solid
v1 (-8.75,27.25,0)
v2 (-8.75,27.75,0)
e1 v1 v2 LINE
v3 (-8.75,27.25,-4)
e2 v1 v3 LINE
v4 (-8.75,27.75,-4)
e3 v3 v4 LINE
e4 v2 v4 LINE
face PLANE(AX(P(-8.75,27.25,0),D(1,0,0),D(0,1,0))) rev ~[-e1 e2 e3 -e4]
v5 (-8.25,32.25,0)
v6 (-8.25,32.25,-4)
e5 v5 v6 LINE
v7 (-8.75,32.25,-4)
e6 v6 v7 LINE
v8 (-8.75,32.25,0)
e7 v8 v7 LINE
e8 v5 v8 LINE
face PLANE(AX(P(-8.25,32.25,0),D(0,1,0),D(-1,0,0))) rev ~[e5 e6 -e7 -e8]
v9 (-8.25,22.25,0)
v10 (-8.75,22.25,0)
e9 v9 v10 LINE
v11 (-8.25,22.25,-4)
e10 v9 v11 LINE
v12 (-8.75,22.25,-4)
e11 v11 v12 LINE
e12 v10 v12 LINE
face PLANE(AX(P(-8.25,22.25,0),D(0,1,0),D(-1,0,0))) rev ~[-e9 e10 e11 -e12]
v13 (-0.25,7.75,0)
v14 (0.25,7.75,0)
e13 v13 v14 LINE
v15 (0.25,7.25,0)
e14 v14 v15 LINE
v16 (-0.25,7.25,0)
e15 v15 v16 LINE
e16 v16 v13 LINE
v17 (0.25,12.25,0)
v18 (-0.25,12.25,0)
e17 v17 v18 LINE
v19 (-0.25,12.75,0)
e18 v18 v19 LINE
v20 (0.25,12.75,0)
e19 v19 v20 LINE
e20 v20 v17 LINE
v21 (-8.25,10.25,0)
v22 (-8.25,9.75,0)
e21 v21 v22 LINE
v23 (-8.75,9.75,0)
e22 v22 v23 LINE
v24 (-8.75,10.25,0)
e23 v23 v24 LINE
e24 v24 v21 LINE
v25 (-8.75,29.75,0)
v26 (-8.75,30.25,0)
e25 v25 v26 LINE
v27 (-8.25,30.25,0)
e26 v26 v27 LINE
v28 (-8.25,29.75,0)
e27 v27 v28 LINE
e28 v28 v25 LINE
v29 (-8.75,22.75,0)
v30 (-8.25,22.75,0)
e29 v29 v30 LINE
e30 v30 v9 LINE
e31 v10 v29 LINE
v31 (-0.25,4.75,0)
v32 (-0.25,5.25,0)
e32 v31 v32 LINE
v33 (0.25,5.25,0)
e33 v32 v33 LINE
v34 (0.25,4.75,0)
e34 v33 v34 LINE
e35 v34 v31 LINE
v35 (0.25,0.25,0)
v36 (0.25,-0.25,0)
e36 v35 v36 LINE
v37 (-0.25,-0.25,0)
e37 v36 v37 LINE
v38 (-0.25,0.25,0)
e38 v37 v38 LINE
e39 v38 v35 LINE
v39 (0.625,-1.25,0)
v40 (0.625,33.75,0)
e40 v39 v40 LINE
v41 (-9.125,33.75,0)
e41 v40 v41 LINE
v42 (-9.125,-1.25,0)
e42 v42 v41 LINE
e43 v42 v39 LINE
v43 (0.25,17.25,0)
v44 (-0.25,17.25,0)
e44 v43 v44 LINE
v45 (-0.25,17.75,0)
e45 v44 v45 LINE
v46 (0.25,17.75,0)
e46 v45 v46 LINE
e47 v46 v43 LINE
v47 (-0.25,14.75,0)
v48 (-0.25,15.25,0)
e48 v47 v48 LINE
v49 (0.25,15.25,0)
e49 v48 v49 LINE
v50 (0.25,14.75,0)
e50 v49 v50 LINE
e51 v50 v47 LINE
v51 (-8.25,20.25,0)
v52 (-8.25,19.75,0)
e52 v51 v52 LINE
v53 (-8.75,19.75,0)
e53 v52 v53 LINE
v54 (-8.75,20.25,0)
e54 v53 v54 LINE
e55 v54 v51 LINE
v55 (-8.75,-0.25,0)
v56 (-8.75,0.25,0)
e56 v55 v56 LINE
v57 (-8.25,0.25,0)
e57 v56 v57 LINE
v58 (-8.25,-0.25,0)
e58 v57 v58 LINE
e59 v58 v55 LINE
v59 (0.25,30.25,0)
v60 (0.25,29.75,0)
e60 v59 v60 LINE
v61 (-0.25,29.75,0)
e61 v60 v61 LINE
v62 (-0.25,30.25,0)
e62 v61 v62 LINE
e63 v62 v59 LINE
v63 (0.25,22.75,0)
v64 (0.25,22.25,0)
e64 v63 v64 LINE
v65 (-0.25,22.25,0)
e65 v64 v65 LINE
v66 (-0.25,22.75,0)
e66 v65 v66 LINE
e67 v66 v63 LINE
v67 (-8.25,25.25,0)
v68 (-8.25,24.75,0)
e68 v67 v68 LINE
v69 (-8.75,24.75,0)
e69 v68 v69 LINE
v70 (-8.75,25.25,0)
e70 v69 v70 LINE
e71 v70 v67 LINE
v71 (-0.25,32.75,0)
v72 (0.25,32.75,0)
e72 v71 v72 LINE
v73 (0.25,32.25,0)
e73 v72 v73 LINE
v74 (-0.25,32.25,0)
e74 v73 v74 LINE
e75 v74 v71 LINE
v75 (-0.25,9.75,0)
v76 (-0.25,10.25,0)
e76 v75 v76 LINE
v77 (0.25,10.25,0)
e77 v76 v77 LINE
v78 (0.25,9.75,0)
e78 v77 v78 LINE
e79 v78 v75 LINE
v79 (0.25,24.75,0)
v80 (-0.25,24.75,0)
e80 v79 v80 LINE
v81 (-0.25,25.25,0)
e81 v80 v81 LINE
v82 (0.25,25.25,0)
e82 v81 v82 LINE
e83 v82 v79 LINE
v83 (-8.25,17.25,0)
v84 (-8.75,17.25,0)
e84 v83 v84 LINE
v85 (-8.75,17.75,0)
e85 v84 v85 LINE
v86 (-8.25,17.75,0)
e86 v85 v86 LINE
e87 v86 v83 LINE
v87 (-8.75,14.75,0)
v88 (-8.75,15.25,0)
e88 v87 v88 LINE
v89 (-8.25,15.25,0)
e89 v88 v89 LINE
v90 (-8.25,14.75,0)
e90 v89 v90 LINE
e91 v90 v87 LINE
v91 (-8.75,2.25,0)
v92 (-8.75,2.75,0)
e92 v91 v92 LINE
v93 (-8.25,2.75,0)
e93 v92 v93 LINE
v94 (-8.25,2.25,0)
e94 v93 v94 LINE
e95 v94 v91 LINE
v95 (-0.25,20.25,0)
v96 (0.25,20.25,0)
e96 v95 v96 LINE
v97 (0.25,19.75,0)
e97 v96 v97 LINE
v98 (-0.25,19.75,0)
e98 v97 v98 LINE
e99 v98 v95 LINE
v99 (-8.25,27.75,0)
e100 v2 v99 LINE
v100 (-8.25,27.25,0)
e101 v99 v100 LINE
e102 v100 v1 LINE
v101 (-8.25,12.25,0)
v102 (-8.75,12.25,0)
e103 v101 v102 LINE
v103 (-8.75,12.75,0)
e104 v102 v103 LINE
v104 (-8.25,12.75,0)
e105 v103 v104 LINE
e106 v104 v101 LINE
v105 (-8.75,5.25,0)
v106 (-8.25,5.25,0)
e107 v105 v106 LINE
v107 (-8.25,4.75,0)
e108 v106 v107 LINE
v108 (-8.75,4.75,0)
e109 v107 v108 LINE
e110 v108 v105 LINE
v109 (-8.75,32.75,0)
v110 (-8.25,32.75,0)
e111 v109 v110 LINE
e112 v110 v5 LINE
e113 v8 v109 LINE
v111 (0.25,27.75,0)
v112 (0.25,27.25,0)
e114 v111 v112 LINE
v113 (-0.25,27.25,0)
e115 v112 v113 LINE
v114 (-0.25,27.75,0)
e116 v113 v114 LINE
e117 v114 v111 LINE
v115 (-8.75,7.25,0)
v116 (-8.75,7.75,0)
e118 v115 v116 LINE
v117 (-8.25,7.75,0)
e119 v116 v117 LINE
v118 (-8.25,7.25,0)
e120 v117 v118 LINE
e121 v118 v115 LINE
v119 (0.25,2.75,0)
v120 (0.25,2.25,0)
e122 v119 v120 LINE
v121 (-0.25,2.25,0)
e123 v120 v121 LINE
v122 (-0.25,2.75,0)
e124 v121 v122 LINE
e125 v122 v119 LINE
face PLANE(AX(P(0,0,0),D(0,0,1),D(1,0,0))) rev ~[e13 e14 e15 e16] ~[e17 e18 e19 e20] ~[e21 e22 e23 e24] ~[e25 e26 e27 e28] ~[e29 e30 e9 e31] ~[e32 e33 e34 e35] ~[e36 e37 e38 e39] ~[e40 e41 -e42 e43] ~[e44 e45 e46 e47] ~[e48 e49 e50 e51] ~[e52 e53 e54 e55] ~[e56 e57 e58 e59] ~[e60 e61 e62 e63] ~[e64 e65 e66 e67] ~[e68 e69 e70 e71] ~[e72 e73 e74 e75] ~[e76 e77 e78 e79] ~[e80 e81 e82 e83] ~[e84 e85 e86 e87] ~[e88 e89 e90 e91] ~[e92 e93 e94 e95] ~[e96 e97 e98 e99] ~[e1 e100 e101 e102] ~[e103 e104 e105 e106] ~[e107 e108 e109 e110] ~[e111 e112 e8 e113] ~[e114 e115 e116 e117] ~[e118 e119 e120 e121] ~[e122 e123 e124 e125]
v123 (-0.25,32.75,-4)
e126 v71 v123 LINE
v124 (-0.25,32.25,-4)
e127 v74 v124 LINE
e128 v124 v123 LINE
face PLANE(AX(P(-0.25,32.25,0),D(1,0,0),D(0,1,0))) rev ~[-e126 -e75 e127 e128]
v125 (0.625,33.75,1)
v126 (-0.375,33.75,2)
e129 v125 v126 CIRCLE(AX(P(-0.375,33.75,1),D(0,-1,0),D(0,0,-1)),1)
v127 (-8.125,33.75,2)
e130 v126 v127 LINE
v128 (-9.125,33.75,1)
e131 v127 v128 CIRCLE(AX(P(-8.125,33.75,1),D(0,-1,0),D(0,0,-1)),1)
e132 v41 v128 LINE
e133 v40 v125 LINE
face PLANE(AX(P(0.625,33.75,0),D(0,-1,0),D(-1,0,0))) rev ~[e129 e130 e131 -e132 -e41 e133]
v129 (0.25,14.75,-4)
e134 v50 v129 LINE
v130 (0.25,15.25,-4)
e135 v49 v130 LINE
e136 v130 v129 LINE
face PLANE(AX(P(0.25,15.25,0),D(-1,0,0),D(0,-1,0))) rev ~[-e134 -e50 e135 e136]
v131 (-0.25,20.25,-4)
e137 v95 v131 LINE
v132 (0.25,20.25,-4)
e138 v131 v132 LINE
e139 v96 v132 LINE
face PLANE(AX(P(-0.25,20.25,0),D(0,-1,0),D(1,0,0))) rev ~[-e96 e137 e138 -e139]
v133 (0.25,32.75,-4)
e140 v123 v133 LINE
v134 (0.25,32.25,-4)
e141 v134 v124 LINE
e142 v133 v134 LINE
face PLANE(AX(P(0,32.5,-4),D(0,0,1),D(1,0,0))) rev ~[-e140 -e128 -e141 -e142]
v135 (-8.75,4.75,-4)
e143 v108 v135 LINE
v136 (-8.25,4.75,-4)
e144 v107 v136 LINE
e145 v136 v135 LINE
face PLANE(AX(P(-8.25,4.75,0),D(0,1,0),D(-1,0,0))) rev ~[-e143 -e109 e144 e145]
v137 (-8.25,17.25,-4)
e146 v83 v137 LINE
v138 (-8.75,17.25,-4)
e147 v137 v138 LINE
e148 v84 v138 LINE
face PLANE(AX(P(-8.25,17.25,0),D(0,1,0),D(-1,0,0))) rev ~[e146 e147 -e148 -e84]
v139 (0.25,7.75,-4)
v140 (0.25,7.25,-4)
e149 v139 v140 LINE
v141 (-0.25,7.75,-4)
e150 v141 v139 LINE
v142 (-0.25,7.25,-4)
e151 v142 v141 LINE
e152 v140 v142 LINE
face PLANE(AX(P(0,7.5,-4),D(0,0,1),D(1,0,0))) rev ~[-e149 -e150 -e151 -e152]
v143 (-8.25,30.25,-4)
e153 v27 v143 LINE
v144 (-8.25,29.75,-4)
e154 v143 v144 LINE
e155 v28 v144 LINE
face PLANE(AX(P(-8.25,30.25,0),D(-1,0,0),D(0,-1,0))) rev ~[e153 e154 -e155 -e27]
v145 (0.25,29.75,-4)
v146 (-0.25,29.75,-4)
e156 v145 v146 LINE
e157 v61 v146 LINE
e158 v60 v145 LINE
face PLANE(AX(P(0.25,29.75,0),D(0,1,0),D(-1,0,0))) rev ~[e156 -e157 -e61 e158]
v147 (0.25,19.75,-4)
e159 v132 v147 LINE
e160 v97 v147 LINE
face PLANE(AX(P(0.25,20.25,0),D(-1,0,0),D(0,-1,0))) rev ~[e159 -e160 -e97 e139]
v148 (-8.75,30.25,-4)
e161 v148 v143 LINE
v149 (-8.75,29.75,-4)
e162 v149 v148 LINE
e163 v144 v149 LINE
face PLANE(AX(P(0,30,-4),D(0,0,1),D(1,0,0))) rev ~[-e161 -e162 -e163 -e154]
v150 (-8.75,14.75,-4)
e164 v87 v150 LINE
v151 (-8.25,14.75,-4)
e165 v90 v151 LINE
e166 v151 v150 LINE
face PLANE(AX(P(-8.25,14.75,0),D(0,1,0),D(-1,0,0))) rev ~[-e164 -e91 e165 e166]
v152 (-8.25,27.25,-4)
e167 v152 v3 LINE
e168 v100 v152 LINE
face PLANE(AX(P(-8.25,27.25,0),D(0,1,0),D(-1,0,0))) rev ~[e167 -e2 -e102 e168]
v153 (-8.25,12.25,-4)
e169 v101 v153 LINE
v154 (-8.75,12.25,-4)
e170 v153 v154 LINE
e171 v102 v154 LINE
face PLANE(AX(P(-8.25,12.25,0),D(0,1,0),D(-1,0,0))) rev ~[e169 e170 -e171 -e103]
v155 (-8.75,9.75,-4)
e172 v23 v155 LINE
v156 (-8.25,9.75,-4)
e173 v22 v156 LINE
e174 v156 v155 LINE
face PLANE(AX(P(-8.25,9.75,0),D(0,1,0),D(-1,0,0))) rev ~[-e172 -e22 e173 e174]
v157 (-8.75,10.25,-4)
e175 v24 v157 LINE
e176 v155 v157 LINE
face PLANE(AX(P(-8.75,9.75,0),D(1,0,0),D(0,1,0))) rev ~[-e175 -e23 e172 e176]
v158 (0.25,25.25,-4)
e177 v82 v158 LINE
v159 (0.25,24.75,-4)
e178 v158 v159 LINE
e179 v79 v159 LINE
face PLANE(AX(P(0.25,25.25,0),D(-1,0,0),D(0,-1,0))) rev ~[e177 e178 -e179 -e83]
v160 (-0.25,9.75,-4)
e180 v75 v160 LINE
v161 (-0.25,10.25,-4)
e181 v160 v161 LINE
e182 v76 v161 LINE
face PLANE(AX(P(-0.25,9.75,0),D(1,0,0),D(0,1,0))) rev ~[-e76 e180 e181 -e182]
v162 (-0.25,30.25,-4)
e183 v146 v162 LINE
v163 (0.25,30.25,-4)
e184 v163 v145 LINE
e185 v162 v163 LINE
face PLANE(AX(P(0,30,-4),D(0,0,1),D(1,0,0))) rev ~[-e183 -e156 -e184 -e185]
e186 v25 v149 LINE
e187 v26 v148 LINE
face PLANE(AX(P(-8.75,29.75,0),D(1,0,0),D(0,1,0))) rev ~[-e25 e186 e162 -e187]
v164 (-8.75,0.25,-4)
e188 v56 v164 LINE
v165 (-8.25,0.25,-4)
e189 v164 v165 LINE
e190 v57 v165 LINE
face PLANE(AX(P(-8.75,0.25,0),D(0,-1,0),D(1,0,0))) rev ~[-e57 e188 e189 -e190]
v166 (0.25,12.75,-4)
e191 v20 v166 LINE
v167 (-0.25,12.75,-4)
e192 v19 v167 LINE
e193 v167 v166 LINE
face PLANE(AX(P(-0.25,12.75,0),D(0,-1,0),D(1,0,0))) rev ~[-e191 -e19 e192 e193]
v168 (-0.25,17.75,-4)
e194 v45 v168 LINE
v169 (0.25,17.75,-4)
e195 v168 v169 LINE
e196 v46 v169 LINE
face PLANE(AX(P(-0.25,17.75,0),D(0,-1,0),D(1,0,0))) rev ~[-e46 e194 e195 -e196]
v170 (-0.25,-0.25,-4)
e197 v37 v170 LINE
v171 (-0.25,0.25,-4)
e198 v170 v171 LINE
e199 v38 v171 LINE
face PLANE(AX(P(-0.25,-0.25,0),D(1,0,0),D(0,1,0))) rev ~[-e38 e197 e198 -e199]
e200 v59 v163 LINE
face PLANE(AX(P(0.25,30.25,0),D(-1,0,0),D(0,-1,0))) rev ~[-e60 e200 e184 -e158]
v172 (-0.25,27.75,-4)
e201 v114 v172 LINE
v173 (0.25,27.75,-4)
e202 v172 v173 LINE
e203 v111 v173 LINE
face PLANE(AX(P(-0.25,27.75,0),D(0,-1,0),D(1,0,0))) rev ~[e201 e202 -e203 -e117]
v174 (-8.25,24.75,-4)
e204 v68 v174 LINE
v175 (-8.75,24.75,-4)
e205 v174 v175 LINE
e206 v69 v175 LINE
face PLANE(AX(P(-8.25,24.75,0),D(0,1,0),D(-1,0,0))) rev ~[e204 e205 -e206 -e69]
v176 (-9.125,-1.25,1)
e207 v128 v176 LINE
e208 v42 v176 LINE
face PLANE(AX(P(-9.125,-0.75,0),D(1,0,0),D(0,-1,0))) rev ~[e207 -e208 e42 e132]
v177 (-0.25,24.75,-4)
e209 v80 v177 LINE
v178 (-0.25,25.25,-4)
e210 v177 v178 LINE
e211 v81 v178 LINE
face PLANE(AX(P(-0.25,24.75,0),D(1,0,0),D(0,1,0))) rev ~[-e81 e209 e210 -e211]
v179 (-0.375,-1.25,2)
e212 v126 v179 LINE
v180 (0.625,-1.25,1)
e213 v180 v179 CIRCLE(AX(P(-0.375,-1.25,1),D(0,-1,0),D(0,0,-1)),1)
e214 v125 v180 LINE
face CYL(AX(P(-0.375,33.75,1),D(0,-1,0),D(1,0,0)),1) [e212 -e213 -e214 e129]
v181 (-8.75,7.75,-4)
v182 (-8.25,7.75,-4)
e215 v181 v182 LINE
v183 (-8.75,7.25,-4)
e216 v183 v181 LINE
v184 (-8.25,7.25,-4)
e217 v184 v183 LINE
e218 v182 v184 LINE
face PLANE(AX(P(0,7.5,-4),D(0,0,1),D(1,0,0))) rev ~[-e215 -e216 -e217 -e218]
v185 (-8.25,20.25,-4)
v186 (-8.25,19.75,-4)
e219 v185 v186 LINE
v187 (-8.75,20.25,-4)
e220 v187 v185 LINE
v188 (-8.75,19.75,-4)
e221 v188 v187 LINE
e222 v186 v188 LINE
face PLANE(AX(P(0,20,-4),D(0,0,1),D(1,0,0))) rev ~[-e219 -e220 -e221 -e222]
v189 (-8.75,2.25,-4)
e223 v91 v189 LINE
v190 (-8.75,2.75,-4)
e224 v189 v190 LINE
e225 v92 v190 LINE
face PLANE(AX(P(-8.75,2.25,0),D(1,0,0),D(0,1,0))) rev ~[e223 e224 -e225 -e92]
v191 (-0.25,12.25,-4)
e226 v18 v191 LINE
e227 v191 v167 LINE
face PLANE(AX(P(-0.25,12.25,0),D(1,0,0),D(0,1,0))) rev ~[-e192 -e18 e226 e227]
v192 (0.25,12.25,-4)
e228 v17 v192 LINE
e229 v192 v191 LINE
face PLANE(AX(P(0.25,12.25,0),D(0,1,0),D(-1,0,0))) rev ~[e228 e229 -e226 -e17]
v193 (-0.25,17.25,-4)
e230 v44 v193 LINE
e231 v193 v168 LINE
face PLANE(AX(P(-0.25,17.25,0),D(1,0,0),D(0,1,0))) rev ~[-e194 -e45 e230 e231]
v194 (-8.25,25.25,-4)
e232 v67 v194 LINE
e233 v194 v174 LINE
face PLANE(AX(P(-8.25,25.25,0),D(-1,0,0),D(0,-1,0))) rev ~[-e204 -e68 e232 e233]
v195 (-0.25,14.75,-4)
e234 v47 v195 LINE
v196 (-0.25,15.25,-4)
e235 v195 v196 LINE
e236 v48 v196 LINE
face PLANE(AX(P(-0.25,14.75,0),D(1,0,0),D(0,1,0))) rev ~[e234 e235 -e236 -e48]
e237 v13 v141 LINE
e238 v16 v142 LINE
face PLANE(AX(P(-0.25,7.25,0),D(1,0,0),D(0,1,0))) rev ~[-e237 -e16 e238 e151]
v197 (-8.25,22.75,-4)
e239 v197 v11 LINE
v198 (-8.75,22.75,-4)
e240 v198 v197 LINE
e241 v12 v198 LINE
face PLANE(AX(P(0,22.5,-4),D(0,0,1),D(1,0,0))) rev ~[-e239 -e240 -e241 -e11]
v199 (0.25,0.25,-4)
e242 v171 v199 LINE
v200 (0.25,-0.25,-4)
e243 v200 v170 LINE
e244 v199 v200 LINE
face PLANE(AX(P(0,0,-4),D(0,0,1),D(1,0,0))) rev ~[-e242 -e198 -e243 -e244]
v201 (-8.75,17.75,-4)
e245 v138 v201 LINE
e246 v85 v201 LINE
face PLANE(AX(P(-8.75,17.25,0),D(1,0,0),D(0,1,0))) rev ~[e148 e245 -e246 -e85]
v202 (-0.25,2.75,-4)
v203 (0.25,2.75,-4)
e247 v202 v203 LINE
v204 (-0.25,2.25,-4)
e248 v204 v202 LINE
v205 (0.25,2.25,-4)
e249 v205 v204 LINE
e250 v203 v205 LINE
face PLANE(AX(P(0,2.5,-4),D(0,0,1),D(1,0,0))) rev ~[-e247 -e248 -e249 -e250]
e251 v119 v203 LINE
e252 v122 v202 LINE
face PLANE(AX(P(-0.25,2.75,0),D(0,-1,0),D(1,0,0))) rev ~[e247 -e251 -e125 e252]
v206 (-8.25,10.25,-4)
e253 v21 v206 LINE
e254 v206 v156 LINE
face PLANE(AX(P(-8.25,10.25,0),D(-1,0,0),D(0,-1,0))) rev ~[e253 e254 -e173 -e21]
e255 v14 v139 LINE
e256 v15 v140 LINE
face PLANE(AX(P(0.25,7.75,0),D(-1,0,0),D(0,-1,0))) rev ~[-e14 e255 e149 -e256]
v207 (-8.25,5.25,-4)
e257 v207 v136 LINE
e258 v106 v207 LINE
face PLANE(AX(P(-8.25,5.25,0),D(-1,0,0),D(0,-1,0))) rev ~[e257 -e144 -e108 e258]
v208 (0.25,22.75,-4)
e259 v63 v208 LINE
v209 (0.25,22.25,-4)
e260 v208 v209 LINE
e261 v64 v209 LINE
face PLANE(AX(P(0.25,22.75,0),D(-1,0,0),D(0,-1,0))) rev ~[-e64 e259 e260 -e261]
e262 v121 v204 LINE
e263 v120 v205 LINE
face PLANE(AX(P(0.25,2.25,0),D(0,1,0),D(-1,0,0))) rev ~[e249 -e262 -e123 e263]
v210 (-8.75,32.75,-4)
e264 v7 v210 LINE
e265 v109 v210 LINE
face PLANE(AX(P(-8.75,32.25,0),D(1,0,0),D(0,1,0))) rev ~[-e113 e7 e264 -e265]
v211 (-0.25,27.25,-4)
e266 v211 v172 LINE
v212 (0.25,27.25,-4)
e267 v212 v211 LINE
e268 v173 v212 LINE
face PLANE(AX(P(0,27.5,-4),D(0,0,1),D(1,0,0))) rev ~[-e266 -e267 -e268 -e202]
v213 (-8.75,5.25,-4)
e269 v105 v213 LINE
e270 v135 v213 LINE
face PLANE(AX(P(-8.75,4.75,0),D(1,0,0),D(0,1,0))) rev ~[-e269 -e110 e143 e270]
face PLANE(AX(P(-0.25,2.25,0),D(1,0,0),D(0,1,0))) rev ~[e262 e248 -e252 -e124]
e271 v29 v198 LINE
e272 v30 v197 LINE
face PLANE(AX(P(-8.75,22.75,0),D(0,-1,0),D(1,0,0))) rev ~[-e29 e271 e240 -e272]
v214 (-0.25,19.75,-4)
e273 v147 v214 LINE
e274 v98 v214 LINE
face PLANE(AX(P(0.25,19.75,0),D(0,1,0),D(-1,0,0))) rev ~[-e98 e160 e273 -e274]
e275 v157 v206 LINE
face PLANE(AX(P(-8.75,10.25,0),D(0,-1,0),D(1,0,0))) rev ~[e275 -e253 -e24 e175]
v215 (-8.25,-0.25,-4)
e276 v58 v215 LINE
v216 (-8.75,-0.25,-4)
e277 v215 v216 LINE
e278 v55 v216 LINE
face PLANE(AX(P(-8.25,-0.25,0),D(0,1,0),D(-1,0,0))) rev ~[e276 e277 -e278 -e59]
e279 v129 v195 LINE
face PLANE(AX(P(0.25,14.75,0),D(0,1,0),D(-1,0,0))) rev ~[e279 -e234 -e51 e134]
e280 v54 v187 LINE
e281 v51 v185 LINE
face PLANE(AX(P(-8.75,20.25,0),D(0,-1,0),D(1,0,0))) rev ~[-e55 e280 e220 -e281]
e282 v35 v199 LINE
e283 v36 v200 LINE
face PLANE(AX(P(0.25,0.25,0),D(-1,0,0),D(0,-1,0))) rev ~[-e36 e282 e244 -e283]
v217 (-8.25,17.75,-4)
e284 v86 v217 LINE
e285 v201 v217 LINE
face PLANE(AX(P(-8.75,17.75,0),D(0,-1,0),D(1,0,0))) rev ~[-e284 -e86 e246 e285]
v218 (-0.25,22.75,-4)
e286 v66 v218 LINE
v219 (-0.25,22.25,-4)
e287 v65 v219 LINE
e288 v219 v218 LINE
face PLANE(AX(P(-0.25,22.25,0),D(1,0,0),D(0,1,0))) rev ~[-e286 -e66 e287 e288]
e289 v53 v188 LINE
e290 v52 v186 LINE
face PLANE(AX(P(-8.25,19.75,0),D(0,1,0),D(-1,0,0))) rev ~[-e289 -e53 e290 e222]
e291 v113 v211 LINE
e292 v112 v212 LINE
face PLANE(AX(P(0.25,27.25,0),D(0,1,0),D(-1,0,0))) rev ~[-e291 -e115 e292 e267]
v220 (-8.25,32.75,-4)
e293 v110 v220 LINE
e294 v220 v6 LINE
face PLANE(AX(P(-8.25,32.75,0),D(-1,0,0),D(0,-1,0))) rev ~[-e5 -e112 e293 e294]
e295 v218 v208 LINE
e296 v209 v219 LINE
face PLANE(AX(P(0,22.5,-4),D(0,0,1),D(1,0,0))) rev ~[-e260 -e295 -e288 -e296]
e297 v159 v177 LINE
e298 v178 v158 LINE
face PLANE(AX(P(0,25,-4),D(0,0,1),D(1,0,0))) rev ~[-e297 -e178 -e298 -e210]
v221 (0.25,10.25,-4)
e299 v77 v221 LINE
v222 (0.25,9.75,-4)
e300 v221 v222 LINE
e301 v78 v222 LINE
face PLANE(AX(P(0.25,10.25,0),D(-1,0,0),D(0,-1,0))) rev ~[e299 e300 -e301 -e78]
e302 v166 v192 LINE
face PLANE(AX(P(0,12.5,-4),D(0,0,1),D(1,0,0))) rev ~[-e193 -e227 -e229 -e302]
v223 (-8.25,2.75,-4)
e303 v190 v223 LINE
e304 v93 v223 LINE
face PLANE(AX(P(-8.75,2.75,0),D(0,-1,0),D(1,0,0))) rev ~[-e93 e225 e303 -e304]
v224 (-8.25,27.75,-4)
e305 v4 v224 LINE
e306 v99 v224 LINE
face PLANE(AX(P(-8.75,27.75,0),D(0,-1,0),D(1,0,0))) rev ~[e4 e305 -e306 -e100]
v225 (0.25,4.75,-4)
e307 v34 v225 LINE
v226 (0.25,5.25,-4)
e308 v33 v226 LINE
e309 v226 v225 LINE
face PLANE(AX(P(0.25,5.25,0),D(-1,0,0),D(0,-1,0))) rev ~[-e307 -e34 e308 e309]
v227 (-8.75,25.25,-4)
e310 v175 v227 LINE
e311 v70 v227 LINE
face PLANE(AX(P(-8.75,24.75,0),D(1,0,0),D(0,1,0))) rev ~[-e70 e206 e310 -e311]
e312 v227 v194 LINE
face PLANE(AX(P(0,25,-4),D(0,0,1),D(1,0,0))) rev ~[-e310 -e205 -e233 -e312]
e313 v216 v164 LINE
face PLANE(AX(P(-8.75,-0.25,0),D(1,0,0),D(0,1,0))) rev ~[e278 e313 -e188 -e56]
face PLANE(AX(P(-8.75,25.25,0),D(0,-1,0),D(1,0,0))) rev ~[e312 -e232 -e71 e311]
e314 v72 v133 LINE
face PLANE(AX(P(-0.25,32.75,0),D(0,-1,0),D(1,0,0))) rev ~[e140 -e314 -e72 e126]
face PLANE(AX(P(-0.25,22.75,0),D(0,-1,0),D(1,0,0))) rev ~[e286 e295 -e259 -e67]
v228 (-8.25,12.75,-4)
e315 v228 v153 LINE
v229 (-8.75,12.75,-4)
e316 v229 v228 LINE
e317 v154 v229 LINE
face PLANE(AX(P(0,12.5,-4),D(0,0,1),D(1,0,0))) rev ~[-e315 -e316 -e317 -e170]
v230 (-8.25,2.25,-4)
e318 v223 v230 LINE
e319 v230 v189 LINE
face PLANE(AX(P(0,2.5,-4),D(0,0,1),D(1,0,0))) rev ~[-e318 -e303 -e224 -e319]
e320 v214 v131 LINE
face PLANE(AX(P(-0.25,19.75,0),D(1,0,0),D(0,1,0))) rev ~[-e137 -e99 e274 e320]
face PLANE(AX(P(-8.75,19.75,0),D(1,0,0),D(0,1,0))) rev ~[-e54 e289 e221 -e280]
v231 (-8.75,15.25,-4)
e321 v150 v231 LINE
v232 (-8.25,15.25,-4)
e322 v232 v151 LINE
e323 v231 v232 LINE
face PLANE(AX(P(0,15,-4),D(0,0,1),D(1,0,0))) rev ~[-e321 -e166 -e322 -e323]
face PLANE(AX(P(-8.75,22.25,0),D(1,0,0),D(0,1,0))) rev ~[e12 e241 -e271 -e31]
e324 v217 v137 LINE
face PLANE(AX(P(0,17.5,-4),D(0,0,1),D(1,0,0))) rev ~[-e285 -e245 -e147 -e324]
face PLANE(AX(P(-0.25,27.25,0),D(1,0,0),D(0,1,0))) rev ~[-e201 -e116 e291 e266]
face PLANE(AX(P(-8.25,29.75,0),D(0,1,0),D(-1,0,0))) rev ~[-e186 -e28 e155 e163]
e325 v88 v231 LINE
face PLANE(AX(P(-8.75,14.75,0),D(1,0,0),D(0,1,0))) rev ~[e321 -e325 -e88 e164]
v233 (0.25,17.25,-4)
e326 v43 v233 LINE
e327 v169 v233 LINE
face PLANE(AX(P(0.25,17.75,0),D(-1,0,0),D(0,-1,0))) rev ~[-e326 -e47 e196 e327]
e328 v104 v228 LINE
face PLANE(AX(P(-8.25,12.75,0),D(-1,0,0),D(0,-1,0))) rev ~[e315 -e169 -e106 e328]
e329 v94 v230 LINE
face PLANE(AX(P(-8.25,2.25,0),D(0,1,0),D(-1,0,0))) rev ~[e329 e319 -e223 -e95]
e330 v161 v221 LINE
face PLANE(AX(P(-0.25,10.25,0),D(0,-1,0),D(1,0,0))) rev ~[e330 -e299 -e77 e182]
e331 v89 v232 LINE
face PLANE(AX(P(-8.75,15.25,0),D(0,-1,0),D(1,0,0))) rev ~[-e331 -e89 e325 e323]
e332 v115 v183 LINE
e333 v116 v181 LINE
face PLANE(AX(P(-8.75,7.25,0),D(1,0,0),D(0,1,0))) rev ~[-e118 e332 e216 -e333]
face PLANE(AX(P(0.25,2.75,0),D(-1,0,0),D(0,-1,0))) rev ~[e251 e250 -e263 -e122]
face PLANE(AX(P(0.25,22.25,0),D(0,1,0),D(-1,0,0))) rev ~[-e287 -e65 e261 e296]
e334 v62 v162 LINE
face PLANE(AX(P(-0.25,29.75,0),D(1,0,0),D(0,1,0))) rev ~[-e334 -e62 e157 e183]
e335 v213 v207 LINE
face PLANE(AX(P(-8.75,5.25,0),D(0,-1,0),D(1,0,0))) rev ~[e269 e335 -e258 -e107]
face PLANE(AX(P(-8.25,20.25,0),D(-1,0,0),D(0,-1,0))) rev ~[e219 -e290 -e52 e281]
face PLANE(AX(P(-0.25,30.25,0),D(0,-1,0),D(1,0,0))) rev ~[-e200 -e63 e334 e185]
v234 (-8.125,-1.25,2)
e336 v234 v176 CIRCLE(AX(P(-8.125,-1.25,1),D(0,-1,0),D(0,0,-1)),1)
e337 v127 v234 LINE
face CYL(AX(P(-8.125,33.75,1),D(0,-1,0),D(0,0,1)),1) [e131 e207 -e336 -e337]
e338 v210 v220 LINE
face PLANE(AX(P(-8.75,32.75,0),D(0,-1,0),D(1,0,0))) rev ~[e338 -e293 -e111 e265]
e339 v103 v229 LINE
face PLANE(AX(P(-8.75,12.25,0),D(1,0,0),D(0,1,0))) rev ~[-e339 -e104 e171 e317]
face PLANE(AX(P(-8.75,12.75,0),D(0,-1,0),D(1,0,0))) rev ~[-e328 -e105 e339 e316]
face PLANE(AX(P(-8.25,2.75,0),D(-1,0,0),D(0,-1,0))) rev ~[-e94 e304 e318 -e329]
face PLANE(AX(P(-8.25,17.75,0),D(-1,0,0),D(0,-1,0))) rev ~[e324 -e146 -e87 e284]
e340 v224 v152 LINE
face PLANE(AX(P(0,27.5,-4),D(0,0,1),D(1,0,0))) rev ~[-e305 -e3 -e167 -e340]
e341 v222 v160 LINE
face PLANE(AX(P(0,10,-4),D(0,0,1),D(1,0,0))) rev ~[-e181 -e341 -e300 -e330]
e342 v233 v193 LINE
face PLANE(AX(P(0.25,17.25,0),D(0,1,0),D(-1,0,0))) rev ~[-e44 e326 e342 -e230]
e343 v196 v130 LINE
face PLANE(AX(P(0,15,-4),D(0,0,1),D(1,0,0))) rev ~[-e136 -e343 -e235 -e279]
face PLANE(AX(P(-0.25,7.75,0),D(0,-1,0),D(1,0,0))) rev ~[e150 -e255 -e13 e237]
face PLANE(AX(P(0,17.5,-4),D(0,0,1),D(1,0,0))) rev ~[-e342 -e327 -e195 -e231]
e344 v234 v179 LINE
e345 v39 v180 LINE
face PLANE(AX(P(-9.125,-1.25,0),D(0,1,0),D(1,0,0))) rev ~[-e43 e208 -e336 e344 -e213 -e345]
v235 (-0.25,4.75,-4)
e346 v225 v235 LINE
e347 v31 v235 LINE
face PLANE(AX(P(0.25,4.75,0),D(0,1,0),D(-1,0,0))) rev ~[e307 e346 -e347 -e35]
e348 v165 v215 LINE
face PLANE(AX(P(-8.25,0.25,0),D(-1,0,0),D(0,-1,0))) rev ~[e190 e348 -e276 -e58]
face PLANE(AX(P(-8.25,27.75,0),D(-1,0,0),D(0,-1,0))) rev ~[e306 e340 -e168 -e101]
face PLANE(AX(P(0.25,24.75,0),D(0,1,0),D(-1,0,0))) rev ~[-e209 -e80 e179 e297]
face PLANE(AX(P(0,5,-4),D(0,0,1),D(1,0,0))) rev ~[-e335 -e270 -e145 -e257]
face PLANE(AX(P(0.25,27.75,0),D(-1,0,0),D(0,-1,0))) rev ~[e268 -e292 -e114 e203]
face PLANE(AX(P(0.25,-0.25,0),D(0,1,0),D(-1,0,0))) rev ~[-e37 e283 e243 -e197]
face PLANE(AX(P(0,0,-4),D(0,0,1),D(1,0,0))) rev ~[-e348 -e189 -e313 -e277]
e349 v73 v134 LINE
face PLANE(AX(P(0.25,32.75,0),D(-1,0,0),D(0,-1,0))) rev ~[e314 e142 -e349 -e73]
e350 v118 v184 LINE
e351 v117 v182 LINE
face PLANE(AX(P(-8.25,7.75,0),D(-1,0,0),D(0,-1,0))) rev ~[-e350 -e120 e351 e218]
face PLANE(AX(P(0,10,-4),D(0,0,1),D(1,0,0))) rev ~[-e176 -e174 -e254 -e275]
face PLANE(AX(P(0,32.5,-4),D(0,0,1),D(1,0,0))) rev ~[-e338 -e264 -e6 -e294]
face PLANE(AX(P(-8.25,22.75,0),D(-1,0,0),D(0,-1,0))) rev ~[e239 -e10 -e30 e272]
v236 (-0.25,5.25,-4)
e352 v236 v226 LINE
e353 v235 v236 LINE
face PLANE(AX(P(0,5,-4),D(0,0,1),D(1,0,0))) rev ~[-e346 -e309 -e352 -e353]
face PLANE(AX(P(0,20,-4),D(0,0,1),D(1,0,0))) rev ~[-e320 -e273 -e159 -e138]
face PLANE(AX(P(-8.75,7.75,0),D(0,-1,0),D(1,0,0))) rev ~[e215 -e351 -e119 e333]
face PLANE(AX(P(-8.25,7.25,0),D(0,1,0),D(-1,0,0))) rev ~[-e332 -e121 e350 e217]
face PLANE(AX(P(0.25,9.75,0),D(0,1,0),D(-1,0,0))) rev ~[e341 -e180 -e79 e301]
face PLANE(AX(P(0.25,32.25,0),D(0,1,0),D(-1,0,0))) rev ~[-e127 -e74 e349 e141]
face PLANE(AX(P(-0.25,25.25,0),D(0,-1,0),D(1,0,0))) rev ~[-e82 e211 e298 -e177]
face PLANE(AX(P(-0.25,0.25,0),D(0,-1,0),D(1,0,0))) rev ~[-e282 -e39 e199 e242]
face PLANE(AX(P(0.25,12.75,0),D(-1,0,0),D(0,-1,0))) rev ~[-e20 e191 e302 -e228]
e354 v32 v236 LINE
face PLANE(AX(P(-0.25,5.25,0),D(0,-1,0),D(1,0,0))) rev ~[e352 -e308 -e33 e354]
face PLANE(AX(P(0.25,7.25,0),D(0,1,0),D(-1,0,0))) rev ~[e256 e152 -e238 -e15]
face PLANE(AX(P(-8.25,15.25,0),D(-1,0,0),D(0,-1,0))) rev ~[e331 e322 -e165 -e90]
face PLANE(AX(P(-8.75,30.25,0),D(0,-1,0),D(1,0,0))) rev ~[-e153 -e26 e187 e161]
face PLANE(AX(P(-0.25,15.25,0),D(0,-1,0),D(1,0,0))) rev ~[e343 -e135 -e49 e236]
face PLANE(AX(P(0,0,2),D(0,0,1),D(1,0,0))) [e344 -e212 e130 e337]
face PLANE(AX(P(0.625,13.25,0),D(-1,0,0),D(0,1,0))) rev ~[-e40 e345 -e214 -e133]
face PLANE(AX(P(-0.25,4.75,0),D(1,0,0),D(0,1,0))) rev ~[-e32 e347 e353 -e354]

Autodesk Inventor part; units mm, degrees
ref_plane "YZ Plane" through (0, 0, 0) normal (1, 0, 0) x (0, 1, 0)
ref_plane "XZ Plane" through (0, 0, 0) normal (0, 1, 0) x (-1, 0, 0)
ref_plane "XY Plane" through (0, 0, 0) normal (0, 0, 1) x (1, 0, 0)
sketch "Sketch1" plane through (0, 0, 0) normal (0, 0, 1) x (1, 0, 0)
  line L0 (0.625, 15.75) -> (0.625, 16.75) projected
  line L1 (0.625, 16.75) -> (-0.625, 16.75) projected
  line L2 (-0.625, 16.75) -> (-0.625, 18.25) projected
  line L3 (-0.625, 18.25) -> (0.625, 18.25) projected
  line L4 (0.625, 18.25) -> (0.625, 19.25) projected
  line L5 (0.625, 19.25) -> (-0.625, 19.25) projected
  line L6 (-0.625, 19.25) -> (-0.625, 20.75) projected
  line L7 (-0.625, 20.75) -> (0.625, 20.75) projected
  line L8 (0.625, 20.75) -> (0.625, 21.75) projected
  line L9 (0.625, 21.75) -> (-0.625, 21.75) projected
  line L10 (-0.625, 21.75) -> (-0.625, 23.25) projected
  line L11 (-0.625, 23.25) -> (0.625, 23.25) projected
  line L12 (0.625, 23.25) -> (0.625, 24.25) projected
  line L13 (0.625, 24.25) -> (-0.625, 24.25) projected
  line L14 (-0.625, 24.25) -> (-0.625, 25.75) projected
  line L15 (-0.625, 25.75) -> (0.625, 25.75) projected
  line L16 (0.625, 25.75) -> (0.625, 26.75) projected
  line L17 (0.625, 26.75) -> (-0.625, 26.75) projected
  line L18 (-0.625, 26.75) -> (-0.625, 28.25) projected
  line L19 (-0.625, 28.25) -> (0.625, 28.25) projected
  line L20 (0.625, 28.25) -> (0.625, 29.25) projected
  line L21 (0.625, 29.25) -> (-0.625, 29.25) projected
  line L22 (-0.625, 29.25) -> (-0.625, 30.75) projected
  line L23 (-0.625, 30.75) -> (0.625, 30.75) projected
  line L24 (0.625, 30.75) -> (0.625, 31.75) projected
  line L25 (0.625, 31.75) -> (-0.625, 31.75) projected
  line L26 (-0.625, 31.75) -> (-0.625, 33.25) projected
  line L27 (-0.625, 33.25) -> (0.625, 33.25) projected
  line L28 (0.625, 33.25) -> (0.625, 33.75) projected
  line L29 (0.625, 33.75) -> (-9.125, 33.75) projected
  line L30 (-9.125, 33.75) -> (-9.125, 33.25) projected
  line L31 (-9.125, 33.25) -> (-7.875, 33.25) projected
  line L32 (-7.875, 33.25) -> (-7.875, 31.75) projected
  line L33 (-7.875, 31.75) -> (-9.125, 31.75) projected
  line L34 (-9.125, 31.75) -> (-9.125, 30.75) projected
  line L35 (-9.125, 30.75) -> (-7.875, 30.75) projected
  line L36 (-7.875, 30.75) -> (-7.875, 29.25) projected
  line L37 (-7.875, 29.25) -> (-9.125, 29.25) projected
  line L38 (-9.125, 29.25) -> (-9.125, 28.25) projected
  line L39 (-9.125, 28.25) -> (-7.875, 28.25) projected
  line L40 (-7.875, 28.25) -> (-7.875, 26.75) projected
  line L41 (-7.875, 26.75) -> (-9.125, 26.75) projected
  line L42 (-9.125, 26.75) -> (-9.125, 25.75) projected
  line L43 (-9.125, 25.75) -> (-7.875, 25.75) projected
  line L44 (-7.875, 25.75) -> (-7.875, 24.25) projected
  line L45 (-7.875, 24.25) -> (-9.125, 24.25) projected
  line L46 (-9.125, 24.25) -> (-9.125, 23.25) projected
  line L47 (-9.125, 23.25) -> (-7.875, 23.25) projected
  line L48 (-7.875, 23.25) -> (-7.875, 21.75) projected
  line L49 (-7.875, 21.75) -> (-9.125, 21.75) projected
  line L50 (-9.125, 21.75) -> (-9.125, 20.75) projected
  line L51 (-9.125, 20.75) -> (-7.875, 20.75) projected
  line L52 (-7.875, 20.75) -> (-7.875, 19.25) projected
  line L53 (-7.875, 19.25) -> (-9.125, 19.25) projected
  line L54 (-9.125, 19.25) -> (-9.125, 18.25) projected
  line L55 (-9.125, 18.25) -> (-7.875, 18.25) projected
  line L56 (-7.875, 18.25) -> (-7.875, 16.75) projected
  line L57 (-7.875, 16.75) -> (-9.125, 16.75) projected
  line L58 (-9.125, 16.75) -> (-9.125, 15.75) projected
  line L59 (-9.125, 15.75) -> (-7.875, 15.75) projected
  line L60 (-7.875, 15.75) -> (-7.875, 14.25) projected
  line L61 (-7.875, 14.25) -> (-9.125, 14.25) projected
  line L62 (-9.125, 14.25) -> (-9.125, 13.25) projected
  line L63 (-9.125, 13.25) -> (-7.875, 13.25) projected
  line L64 (-7.875, 13.25) -> (-7.875, 11.75) projected
  line L65 (-7.875, 11.75) -> (-9.125, 11.75) projected
  line L66 (-9.125, 11.75) -> (-9.125, 10.75) projected
  line L67 (-9.125, 10.75) -> (-7.875, 10.75) projected
  line L68 (-7.875, 10.75) -> (-7.875, 9.25) projected
  line L69 (-7.875, 9.25) -> (-9.125, 9.25) projected
  line L70 (-9.125, 9.25) -> (-9.125, 8.25) projected
  line L71 (-9.125, 8.25) -> (-7.875, 8.25) projected
  line L72 (-7.875, 8.25) -> (-7.875, 6.75) projected
  line L73 (-7.875, 6.75) -> (-9.125, 6.75) projected
  line L74 (-9.125, 6.75) -> (-9.125, 5.75) projected
  line L75 (-9.125, 5.75) -> (-7.875, 5.75) projected
  line L76 (-7.875, 5.75) -> (-7.875, 4.25) projected
  line L77 (-7.875, 4.25) -> (-9.125, 4.25) projected
  line L78 (-9.125, 4.25) -> (-9.125, 3.25) projected
  line L79 (-9.125, 3.25) -> (-7.875, 3.25) projected
  line L80 (-7.875, 3.25) -> (-7.875, 1.75) projected
  line L81 (-7.875, 1.75) -> (-9.125, 1.75) projected
  line L82 (-9.125, 1.75) -> (-9.125, 0.75) projected
  line L83 (-9.125, 0.75) -> (-7.875, 0.75) projected
  line L84 (-7.875, 0.75) -> (-7.875, -0.75) projected
  line L85 (-7.875, -0.75) -> (-9.125, -0.75) projected
  line L86 (-9.125, -0.75) -> (-9.125, -1.25) projected
  line L87 (-9.125, -1.25) -> (0.625, -1.25) projected
  line L88 (0.625, -1.25) -> (0.625, -0.75) projected
  line L89 (0.625, -0.75) -> (-0.625, -0.75) projected
  line L90 (-0.625, -0.75) -> (-0.625, 0.75) projected
  line L91 (-0.625, 0.75) -> (0.625, 0.75) projected
  line L92 (0.625, 0.75) -> (0.625, 1.75) projected
  line L93 (0.625, 1.75) -> (-0.625, 1.75) projected
  line L94 (-0.625, 1.75) -> (-0.625, 3.25) projected
  line L95 (-0.625, 3.25) -> (0.625, 3.25) projected
  line L96 (0.625, 3.25) -> (0.625, 4.25) projected
  line L97 (0.625, 4.25) -> (-0.625, 4.25) projected
  line L98 (-0.625, 4.25) -> (-0.625, 5.75) projected
  line L99 (-0.625, 5.75) -> (0.625, 5.75) projected
  line L100 (0.625, 5.75) -> (0.625, 6.75) projected
  line L101 (0.625, 6.75) -> (-0.625, 6.75) projected
  line L102 (-0.625, 6.75) -> (-0.625, 8.25) projected
  line L103 (-0.625, 8.25) -> (0.625, 8.25) projected
  line L104 (0.625, 8.25) -> (0.625, 9.25) projected
  line L105 (0.625, 9.25) -> (-0.625, 9.25) projected
  line L106 (-0.625, 9.25) -> (-0.625, 10.75) projected
  line L107 (-0.625, 10.75) -> (0.625, 10.75) projected
  line L108 (0.625, 10.75) -> (0.625, 11.75) projected
  line L109 (0.625, 11.75) -> (-0.625, 11.75) projected
  line L110 (-0.625, 11.75) -> (-0.625, 13.25) projected
  line L111 (-0.625, 13.25) -> (0.625, 13.25) projected
  line L112 (0.625, 13.25) -> (0.625, 14.25) projected
  line L113 (0.625, 14.25) -> (-0.625, 14.25) projected
  line L114 (-0.625, 14.25) -> (-0.625, 15.75) projected
  line L115 (-0.625, 15.75) -> (0.625, 15.75) projected
  line L116 (-9.125, 33.75) -> (0.625, 33.75)
  line L117 (0.625, 33.75) -> (0.625, -1.25)
  line L118 (0.625, -1.25) -> (-9.125, -1.25)
  line L119 (-9.125, -1.25) -> (-9.125, 33.75)
  line L120 (0.25, -0.25) -> (-0.25, -0.25)
  line L121 (-0.25, -0.25) -> (-0.25, 0.25)
  line L122 (-0.25, 0.25) -> (0.25, 0.25)
  line L123 (0.25, 0.25) -> (0.25, -0.25)
  line L124 (0, 0) -> (0, -0.1911)
  line L125 (0, 0) -> (0.1004, 0)
  line L126 (-8.25, -0.25) -> (-8.75, -0.25)
  line L127 (-8.75, -0.25) -> (-8.75, 0.25)
  line L128 (-8.75, 0.25) -> (-8.25, 0.25)
  line L129 (-8.25, 0.25) -> (-8.25, -0.25)
  point P0 (0, 0.25)
  point P1 (0.25, 0)
  dimension "d2" = 0.5
  dimension "d3" = 0.5
  dimension "d4" = 0.5
  dimension "d5" = 0.5
  dimension "d6" = 0.375
  dimension "d7" = 0.5
extrude "Extrusion1" add sketch "Sketch1" along normal blind 2 contours L115 L114 L113 L112 L111 L110 L109 L108 L107 L106 L105 L104 L103 L102 L101 L100 L99 L98 L97 L96 L95 L94 L93 L92 L91 L90 L89 L88 L87 L86 L85 L84 L83 L82 L81 L80 L79 L78 L77 L76 L75 L74 L73 L72 L71 L70 L69 L68 L67 L66 L65 L64 L63 L62 L61 L60 L59 L58 L57 L56 L55 L54 L53 L52 L51 L50 L49 L48 L47 L46 L45 L44 L43 L42 L41 L40 L39 L38 L37 L36 L35 L34 L33 L32 L31 L30 L29 L28 L27 L26 L25 L24 L23 L22 L21 L20 L19 L18 L17 L16 L15 L14 L13 L12 L11 L10 L9 L8 L7 L6 L5 L4 L3 L2 L1 L0 | L117 L113 L114 L115 | L1 L2 L3 L117 | L117 L109 L110 L111 | L5 L6 L7 L117 | L117 L105 L106 L107 | L9 L10 L11 L117 | L117 L101 L102 L103 | L13 L14 L15 L117 | L117 L97 L98 L99 | L17 L18 L19 L117 | L117 L93 L94 L95 | L21 L22 L23 L117 | L117 L89 L90 L91 | L25 L26 L27 L117 | L119 L83 L84 L85 | L31 L32 L33 L119 | L119 L79 L80 L81 | L35 L36 L37 L119 | L119 L75 L76 L77 | L39 L40 L41 L119 | L119 L71 L72 L73 | L43 L44 L45 L119 | L119 L67 L68 L69 | L47 L48 L49 L119 | L119 L63 L64 L65 | L51 L52 L53 L119 | L119 L59 L60 L61 | L55 L56 L57 L119 | L120 L121 L122 L123 | L126 L127 L128 L129
extrude "Extrusion2" add sketch "Sketch1" against normal blind 4 contours L120 L121 L122 L123 | L126 L127 L128 L129
pattern_linear "Rectangular Pattern1" count 14 spacing 2.5 along (0, 1, 0) of "Extrusion2"
fillet "Fillet1" radius 1 2 edges at (0.625, 16.25, 2) (-9.125, 16.25, 2)
properties part number "ATMEGA328P-PV" material "Rubber"
